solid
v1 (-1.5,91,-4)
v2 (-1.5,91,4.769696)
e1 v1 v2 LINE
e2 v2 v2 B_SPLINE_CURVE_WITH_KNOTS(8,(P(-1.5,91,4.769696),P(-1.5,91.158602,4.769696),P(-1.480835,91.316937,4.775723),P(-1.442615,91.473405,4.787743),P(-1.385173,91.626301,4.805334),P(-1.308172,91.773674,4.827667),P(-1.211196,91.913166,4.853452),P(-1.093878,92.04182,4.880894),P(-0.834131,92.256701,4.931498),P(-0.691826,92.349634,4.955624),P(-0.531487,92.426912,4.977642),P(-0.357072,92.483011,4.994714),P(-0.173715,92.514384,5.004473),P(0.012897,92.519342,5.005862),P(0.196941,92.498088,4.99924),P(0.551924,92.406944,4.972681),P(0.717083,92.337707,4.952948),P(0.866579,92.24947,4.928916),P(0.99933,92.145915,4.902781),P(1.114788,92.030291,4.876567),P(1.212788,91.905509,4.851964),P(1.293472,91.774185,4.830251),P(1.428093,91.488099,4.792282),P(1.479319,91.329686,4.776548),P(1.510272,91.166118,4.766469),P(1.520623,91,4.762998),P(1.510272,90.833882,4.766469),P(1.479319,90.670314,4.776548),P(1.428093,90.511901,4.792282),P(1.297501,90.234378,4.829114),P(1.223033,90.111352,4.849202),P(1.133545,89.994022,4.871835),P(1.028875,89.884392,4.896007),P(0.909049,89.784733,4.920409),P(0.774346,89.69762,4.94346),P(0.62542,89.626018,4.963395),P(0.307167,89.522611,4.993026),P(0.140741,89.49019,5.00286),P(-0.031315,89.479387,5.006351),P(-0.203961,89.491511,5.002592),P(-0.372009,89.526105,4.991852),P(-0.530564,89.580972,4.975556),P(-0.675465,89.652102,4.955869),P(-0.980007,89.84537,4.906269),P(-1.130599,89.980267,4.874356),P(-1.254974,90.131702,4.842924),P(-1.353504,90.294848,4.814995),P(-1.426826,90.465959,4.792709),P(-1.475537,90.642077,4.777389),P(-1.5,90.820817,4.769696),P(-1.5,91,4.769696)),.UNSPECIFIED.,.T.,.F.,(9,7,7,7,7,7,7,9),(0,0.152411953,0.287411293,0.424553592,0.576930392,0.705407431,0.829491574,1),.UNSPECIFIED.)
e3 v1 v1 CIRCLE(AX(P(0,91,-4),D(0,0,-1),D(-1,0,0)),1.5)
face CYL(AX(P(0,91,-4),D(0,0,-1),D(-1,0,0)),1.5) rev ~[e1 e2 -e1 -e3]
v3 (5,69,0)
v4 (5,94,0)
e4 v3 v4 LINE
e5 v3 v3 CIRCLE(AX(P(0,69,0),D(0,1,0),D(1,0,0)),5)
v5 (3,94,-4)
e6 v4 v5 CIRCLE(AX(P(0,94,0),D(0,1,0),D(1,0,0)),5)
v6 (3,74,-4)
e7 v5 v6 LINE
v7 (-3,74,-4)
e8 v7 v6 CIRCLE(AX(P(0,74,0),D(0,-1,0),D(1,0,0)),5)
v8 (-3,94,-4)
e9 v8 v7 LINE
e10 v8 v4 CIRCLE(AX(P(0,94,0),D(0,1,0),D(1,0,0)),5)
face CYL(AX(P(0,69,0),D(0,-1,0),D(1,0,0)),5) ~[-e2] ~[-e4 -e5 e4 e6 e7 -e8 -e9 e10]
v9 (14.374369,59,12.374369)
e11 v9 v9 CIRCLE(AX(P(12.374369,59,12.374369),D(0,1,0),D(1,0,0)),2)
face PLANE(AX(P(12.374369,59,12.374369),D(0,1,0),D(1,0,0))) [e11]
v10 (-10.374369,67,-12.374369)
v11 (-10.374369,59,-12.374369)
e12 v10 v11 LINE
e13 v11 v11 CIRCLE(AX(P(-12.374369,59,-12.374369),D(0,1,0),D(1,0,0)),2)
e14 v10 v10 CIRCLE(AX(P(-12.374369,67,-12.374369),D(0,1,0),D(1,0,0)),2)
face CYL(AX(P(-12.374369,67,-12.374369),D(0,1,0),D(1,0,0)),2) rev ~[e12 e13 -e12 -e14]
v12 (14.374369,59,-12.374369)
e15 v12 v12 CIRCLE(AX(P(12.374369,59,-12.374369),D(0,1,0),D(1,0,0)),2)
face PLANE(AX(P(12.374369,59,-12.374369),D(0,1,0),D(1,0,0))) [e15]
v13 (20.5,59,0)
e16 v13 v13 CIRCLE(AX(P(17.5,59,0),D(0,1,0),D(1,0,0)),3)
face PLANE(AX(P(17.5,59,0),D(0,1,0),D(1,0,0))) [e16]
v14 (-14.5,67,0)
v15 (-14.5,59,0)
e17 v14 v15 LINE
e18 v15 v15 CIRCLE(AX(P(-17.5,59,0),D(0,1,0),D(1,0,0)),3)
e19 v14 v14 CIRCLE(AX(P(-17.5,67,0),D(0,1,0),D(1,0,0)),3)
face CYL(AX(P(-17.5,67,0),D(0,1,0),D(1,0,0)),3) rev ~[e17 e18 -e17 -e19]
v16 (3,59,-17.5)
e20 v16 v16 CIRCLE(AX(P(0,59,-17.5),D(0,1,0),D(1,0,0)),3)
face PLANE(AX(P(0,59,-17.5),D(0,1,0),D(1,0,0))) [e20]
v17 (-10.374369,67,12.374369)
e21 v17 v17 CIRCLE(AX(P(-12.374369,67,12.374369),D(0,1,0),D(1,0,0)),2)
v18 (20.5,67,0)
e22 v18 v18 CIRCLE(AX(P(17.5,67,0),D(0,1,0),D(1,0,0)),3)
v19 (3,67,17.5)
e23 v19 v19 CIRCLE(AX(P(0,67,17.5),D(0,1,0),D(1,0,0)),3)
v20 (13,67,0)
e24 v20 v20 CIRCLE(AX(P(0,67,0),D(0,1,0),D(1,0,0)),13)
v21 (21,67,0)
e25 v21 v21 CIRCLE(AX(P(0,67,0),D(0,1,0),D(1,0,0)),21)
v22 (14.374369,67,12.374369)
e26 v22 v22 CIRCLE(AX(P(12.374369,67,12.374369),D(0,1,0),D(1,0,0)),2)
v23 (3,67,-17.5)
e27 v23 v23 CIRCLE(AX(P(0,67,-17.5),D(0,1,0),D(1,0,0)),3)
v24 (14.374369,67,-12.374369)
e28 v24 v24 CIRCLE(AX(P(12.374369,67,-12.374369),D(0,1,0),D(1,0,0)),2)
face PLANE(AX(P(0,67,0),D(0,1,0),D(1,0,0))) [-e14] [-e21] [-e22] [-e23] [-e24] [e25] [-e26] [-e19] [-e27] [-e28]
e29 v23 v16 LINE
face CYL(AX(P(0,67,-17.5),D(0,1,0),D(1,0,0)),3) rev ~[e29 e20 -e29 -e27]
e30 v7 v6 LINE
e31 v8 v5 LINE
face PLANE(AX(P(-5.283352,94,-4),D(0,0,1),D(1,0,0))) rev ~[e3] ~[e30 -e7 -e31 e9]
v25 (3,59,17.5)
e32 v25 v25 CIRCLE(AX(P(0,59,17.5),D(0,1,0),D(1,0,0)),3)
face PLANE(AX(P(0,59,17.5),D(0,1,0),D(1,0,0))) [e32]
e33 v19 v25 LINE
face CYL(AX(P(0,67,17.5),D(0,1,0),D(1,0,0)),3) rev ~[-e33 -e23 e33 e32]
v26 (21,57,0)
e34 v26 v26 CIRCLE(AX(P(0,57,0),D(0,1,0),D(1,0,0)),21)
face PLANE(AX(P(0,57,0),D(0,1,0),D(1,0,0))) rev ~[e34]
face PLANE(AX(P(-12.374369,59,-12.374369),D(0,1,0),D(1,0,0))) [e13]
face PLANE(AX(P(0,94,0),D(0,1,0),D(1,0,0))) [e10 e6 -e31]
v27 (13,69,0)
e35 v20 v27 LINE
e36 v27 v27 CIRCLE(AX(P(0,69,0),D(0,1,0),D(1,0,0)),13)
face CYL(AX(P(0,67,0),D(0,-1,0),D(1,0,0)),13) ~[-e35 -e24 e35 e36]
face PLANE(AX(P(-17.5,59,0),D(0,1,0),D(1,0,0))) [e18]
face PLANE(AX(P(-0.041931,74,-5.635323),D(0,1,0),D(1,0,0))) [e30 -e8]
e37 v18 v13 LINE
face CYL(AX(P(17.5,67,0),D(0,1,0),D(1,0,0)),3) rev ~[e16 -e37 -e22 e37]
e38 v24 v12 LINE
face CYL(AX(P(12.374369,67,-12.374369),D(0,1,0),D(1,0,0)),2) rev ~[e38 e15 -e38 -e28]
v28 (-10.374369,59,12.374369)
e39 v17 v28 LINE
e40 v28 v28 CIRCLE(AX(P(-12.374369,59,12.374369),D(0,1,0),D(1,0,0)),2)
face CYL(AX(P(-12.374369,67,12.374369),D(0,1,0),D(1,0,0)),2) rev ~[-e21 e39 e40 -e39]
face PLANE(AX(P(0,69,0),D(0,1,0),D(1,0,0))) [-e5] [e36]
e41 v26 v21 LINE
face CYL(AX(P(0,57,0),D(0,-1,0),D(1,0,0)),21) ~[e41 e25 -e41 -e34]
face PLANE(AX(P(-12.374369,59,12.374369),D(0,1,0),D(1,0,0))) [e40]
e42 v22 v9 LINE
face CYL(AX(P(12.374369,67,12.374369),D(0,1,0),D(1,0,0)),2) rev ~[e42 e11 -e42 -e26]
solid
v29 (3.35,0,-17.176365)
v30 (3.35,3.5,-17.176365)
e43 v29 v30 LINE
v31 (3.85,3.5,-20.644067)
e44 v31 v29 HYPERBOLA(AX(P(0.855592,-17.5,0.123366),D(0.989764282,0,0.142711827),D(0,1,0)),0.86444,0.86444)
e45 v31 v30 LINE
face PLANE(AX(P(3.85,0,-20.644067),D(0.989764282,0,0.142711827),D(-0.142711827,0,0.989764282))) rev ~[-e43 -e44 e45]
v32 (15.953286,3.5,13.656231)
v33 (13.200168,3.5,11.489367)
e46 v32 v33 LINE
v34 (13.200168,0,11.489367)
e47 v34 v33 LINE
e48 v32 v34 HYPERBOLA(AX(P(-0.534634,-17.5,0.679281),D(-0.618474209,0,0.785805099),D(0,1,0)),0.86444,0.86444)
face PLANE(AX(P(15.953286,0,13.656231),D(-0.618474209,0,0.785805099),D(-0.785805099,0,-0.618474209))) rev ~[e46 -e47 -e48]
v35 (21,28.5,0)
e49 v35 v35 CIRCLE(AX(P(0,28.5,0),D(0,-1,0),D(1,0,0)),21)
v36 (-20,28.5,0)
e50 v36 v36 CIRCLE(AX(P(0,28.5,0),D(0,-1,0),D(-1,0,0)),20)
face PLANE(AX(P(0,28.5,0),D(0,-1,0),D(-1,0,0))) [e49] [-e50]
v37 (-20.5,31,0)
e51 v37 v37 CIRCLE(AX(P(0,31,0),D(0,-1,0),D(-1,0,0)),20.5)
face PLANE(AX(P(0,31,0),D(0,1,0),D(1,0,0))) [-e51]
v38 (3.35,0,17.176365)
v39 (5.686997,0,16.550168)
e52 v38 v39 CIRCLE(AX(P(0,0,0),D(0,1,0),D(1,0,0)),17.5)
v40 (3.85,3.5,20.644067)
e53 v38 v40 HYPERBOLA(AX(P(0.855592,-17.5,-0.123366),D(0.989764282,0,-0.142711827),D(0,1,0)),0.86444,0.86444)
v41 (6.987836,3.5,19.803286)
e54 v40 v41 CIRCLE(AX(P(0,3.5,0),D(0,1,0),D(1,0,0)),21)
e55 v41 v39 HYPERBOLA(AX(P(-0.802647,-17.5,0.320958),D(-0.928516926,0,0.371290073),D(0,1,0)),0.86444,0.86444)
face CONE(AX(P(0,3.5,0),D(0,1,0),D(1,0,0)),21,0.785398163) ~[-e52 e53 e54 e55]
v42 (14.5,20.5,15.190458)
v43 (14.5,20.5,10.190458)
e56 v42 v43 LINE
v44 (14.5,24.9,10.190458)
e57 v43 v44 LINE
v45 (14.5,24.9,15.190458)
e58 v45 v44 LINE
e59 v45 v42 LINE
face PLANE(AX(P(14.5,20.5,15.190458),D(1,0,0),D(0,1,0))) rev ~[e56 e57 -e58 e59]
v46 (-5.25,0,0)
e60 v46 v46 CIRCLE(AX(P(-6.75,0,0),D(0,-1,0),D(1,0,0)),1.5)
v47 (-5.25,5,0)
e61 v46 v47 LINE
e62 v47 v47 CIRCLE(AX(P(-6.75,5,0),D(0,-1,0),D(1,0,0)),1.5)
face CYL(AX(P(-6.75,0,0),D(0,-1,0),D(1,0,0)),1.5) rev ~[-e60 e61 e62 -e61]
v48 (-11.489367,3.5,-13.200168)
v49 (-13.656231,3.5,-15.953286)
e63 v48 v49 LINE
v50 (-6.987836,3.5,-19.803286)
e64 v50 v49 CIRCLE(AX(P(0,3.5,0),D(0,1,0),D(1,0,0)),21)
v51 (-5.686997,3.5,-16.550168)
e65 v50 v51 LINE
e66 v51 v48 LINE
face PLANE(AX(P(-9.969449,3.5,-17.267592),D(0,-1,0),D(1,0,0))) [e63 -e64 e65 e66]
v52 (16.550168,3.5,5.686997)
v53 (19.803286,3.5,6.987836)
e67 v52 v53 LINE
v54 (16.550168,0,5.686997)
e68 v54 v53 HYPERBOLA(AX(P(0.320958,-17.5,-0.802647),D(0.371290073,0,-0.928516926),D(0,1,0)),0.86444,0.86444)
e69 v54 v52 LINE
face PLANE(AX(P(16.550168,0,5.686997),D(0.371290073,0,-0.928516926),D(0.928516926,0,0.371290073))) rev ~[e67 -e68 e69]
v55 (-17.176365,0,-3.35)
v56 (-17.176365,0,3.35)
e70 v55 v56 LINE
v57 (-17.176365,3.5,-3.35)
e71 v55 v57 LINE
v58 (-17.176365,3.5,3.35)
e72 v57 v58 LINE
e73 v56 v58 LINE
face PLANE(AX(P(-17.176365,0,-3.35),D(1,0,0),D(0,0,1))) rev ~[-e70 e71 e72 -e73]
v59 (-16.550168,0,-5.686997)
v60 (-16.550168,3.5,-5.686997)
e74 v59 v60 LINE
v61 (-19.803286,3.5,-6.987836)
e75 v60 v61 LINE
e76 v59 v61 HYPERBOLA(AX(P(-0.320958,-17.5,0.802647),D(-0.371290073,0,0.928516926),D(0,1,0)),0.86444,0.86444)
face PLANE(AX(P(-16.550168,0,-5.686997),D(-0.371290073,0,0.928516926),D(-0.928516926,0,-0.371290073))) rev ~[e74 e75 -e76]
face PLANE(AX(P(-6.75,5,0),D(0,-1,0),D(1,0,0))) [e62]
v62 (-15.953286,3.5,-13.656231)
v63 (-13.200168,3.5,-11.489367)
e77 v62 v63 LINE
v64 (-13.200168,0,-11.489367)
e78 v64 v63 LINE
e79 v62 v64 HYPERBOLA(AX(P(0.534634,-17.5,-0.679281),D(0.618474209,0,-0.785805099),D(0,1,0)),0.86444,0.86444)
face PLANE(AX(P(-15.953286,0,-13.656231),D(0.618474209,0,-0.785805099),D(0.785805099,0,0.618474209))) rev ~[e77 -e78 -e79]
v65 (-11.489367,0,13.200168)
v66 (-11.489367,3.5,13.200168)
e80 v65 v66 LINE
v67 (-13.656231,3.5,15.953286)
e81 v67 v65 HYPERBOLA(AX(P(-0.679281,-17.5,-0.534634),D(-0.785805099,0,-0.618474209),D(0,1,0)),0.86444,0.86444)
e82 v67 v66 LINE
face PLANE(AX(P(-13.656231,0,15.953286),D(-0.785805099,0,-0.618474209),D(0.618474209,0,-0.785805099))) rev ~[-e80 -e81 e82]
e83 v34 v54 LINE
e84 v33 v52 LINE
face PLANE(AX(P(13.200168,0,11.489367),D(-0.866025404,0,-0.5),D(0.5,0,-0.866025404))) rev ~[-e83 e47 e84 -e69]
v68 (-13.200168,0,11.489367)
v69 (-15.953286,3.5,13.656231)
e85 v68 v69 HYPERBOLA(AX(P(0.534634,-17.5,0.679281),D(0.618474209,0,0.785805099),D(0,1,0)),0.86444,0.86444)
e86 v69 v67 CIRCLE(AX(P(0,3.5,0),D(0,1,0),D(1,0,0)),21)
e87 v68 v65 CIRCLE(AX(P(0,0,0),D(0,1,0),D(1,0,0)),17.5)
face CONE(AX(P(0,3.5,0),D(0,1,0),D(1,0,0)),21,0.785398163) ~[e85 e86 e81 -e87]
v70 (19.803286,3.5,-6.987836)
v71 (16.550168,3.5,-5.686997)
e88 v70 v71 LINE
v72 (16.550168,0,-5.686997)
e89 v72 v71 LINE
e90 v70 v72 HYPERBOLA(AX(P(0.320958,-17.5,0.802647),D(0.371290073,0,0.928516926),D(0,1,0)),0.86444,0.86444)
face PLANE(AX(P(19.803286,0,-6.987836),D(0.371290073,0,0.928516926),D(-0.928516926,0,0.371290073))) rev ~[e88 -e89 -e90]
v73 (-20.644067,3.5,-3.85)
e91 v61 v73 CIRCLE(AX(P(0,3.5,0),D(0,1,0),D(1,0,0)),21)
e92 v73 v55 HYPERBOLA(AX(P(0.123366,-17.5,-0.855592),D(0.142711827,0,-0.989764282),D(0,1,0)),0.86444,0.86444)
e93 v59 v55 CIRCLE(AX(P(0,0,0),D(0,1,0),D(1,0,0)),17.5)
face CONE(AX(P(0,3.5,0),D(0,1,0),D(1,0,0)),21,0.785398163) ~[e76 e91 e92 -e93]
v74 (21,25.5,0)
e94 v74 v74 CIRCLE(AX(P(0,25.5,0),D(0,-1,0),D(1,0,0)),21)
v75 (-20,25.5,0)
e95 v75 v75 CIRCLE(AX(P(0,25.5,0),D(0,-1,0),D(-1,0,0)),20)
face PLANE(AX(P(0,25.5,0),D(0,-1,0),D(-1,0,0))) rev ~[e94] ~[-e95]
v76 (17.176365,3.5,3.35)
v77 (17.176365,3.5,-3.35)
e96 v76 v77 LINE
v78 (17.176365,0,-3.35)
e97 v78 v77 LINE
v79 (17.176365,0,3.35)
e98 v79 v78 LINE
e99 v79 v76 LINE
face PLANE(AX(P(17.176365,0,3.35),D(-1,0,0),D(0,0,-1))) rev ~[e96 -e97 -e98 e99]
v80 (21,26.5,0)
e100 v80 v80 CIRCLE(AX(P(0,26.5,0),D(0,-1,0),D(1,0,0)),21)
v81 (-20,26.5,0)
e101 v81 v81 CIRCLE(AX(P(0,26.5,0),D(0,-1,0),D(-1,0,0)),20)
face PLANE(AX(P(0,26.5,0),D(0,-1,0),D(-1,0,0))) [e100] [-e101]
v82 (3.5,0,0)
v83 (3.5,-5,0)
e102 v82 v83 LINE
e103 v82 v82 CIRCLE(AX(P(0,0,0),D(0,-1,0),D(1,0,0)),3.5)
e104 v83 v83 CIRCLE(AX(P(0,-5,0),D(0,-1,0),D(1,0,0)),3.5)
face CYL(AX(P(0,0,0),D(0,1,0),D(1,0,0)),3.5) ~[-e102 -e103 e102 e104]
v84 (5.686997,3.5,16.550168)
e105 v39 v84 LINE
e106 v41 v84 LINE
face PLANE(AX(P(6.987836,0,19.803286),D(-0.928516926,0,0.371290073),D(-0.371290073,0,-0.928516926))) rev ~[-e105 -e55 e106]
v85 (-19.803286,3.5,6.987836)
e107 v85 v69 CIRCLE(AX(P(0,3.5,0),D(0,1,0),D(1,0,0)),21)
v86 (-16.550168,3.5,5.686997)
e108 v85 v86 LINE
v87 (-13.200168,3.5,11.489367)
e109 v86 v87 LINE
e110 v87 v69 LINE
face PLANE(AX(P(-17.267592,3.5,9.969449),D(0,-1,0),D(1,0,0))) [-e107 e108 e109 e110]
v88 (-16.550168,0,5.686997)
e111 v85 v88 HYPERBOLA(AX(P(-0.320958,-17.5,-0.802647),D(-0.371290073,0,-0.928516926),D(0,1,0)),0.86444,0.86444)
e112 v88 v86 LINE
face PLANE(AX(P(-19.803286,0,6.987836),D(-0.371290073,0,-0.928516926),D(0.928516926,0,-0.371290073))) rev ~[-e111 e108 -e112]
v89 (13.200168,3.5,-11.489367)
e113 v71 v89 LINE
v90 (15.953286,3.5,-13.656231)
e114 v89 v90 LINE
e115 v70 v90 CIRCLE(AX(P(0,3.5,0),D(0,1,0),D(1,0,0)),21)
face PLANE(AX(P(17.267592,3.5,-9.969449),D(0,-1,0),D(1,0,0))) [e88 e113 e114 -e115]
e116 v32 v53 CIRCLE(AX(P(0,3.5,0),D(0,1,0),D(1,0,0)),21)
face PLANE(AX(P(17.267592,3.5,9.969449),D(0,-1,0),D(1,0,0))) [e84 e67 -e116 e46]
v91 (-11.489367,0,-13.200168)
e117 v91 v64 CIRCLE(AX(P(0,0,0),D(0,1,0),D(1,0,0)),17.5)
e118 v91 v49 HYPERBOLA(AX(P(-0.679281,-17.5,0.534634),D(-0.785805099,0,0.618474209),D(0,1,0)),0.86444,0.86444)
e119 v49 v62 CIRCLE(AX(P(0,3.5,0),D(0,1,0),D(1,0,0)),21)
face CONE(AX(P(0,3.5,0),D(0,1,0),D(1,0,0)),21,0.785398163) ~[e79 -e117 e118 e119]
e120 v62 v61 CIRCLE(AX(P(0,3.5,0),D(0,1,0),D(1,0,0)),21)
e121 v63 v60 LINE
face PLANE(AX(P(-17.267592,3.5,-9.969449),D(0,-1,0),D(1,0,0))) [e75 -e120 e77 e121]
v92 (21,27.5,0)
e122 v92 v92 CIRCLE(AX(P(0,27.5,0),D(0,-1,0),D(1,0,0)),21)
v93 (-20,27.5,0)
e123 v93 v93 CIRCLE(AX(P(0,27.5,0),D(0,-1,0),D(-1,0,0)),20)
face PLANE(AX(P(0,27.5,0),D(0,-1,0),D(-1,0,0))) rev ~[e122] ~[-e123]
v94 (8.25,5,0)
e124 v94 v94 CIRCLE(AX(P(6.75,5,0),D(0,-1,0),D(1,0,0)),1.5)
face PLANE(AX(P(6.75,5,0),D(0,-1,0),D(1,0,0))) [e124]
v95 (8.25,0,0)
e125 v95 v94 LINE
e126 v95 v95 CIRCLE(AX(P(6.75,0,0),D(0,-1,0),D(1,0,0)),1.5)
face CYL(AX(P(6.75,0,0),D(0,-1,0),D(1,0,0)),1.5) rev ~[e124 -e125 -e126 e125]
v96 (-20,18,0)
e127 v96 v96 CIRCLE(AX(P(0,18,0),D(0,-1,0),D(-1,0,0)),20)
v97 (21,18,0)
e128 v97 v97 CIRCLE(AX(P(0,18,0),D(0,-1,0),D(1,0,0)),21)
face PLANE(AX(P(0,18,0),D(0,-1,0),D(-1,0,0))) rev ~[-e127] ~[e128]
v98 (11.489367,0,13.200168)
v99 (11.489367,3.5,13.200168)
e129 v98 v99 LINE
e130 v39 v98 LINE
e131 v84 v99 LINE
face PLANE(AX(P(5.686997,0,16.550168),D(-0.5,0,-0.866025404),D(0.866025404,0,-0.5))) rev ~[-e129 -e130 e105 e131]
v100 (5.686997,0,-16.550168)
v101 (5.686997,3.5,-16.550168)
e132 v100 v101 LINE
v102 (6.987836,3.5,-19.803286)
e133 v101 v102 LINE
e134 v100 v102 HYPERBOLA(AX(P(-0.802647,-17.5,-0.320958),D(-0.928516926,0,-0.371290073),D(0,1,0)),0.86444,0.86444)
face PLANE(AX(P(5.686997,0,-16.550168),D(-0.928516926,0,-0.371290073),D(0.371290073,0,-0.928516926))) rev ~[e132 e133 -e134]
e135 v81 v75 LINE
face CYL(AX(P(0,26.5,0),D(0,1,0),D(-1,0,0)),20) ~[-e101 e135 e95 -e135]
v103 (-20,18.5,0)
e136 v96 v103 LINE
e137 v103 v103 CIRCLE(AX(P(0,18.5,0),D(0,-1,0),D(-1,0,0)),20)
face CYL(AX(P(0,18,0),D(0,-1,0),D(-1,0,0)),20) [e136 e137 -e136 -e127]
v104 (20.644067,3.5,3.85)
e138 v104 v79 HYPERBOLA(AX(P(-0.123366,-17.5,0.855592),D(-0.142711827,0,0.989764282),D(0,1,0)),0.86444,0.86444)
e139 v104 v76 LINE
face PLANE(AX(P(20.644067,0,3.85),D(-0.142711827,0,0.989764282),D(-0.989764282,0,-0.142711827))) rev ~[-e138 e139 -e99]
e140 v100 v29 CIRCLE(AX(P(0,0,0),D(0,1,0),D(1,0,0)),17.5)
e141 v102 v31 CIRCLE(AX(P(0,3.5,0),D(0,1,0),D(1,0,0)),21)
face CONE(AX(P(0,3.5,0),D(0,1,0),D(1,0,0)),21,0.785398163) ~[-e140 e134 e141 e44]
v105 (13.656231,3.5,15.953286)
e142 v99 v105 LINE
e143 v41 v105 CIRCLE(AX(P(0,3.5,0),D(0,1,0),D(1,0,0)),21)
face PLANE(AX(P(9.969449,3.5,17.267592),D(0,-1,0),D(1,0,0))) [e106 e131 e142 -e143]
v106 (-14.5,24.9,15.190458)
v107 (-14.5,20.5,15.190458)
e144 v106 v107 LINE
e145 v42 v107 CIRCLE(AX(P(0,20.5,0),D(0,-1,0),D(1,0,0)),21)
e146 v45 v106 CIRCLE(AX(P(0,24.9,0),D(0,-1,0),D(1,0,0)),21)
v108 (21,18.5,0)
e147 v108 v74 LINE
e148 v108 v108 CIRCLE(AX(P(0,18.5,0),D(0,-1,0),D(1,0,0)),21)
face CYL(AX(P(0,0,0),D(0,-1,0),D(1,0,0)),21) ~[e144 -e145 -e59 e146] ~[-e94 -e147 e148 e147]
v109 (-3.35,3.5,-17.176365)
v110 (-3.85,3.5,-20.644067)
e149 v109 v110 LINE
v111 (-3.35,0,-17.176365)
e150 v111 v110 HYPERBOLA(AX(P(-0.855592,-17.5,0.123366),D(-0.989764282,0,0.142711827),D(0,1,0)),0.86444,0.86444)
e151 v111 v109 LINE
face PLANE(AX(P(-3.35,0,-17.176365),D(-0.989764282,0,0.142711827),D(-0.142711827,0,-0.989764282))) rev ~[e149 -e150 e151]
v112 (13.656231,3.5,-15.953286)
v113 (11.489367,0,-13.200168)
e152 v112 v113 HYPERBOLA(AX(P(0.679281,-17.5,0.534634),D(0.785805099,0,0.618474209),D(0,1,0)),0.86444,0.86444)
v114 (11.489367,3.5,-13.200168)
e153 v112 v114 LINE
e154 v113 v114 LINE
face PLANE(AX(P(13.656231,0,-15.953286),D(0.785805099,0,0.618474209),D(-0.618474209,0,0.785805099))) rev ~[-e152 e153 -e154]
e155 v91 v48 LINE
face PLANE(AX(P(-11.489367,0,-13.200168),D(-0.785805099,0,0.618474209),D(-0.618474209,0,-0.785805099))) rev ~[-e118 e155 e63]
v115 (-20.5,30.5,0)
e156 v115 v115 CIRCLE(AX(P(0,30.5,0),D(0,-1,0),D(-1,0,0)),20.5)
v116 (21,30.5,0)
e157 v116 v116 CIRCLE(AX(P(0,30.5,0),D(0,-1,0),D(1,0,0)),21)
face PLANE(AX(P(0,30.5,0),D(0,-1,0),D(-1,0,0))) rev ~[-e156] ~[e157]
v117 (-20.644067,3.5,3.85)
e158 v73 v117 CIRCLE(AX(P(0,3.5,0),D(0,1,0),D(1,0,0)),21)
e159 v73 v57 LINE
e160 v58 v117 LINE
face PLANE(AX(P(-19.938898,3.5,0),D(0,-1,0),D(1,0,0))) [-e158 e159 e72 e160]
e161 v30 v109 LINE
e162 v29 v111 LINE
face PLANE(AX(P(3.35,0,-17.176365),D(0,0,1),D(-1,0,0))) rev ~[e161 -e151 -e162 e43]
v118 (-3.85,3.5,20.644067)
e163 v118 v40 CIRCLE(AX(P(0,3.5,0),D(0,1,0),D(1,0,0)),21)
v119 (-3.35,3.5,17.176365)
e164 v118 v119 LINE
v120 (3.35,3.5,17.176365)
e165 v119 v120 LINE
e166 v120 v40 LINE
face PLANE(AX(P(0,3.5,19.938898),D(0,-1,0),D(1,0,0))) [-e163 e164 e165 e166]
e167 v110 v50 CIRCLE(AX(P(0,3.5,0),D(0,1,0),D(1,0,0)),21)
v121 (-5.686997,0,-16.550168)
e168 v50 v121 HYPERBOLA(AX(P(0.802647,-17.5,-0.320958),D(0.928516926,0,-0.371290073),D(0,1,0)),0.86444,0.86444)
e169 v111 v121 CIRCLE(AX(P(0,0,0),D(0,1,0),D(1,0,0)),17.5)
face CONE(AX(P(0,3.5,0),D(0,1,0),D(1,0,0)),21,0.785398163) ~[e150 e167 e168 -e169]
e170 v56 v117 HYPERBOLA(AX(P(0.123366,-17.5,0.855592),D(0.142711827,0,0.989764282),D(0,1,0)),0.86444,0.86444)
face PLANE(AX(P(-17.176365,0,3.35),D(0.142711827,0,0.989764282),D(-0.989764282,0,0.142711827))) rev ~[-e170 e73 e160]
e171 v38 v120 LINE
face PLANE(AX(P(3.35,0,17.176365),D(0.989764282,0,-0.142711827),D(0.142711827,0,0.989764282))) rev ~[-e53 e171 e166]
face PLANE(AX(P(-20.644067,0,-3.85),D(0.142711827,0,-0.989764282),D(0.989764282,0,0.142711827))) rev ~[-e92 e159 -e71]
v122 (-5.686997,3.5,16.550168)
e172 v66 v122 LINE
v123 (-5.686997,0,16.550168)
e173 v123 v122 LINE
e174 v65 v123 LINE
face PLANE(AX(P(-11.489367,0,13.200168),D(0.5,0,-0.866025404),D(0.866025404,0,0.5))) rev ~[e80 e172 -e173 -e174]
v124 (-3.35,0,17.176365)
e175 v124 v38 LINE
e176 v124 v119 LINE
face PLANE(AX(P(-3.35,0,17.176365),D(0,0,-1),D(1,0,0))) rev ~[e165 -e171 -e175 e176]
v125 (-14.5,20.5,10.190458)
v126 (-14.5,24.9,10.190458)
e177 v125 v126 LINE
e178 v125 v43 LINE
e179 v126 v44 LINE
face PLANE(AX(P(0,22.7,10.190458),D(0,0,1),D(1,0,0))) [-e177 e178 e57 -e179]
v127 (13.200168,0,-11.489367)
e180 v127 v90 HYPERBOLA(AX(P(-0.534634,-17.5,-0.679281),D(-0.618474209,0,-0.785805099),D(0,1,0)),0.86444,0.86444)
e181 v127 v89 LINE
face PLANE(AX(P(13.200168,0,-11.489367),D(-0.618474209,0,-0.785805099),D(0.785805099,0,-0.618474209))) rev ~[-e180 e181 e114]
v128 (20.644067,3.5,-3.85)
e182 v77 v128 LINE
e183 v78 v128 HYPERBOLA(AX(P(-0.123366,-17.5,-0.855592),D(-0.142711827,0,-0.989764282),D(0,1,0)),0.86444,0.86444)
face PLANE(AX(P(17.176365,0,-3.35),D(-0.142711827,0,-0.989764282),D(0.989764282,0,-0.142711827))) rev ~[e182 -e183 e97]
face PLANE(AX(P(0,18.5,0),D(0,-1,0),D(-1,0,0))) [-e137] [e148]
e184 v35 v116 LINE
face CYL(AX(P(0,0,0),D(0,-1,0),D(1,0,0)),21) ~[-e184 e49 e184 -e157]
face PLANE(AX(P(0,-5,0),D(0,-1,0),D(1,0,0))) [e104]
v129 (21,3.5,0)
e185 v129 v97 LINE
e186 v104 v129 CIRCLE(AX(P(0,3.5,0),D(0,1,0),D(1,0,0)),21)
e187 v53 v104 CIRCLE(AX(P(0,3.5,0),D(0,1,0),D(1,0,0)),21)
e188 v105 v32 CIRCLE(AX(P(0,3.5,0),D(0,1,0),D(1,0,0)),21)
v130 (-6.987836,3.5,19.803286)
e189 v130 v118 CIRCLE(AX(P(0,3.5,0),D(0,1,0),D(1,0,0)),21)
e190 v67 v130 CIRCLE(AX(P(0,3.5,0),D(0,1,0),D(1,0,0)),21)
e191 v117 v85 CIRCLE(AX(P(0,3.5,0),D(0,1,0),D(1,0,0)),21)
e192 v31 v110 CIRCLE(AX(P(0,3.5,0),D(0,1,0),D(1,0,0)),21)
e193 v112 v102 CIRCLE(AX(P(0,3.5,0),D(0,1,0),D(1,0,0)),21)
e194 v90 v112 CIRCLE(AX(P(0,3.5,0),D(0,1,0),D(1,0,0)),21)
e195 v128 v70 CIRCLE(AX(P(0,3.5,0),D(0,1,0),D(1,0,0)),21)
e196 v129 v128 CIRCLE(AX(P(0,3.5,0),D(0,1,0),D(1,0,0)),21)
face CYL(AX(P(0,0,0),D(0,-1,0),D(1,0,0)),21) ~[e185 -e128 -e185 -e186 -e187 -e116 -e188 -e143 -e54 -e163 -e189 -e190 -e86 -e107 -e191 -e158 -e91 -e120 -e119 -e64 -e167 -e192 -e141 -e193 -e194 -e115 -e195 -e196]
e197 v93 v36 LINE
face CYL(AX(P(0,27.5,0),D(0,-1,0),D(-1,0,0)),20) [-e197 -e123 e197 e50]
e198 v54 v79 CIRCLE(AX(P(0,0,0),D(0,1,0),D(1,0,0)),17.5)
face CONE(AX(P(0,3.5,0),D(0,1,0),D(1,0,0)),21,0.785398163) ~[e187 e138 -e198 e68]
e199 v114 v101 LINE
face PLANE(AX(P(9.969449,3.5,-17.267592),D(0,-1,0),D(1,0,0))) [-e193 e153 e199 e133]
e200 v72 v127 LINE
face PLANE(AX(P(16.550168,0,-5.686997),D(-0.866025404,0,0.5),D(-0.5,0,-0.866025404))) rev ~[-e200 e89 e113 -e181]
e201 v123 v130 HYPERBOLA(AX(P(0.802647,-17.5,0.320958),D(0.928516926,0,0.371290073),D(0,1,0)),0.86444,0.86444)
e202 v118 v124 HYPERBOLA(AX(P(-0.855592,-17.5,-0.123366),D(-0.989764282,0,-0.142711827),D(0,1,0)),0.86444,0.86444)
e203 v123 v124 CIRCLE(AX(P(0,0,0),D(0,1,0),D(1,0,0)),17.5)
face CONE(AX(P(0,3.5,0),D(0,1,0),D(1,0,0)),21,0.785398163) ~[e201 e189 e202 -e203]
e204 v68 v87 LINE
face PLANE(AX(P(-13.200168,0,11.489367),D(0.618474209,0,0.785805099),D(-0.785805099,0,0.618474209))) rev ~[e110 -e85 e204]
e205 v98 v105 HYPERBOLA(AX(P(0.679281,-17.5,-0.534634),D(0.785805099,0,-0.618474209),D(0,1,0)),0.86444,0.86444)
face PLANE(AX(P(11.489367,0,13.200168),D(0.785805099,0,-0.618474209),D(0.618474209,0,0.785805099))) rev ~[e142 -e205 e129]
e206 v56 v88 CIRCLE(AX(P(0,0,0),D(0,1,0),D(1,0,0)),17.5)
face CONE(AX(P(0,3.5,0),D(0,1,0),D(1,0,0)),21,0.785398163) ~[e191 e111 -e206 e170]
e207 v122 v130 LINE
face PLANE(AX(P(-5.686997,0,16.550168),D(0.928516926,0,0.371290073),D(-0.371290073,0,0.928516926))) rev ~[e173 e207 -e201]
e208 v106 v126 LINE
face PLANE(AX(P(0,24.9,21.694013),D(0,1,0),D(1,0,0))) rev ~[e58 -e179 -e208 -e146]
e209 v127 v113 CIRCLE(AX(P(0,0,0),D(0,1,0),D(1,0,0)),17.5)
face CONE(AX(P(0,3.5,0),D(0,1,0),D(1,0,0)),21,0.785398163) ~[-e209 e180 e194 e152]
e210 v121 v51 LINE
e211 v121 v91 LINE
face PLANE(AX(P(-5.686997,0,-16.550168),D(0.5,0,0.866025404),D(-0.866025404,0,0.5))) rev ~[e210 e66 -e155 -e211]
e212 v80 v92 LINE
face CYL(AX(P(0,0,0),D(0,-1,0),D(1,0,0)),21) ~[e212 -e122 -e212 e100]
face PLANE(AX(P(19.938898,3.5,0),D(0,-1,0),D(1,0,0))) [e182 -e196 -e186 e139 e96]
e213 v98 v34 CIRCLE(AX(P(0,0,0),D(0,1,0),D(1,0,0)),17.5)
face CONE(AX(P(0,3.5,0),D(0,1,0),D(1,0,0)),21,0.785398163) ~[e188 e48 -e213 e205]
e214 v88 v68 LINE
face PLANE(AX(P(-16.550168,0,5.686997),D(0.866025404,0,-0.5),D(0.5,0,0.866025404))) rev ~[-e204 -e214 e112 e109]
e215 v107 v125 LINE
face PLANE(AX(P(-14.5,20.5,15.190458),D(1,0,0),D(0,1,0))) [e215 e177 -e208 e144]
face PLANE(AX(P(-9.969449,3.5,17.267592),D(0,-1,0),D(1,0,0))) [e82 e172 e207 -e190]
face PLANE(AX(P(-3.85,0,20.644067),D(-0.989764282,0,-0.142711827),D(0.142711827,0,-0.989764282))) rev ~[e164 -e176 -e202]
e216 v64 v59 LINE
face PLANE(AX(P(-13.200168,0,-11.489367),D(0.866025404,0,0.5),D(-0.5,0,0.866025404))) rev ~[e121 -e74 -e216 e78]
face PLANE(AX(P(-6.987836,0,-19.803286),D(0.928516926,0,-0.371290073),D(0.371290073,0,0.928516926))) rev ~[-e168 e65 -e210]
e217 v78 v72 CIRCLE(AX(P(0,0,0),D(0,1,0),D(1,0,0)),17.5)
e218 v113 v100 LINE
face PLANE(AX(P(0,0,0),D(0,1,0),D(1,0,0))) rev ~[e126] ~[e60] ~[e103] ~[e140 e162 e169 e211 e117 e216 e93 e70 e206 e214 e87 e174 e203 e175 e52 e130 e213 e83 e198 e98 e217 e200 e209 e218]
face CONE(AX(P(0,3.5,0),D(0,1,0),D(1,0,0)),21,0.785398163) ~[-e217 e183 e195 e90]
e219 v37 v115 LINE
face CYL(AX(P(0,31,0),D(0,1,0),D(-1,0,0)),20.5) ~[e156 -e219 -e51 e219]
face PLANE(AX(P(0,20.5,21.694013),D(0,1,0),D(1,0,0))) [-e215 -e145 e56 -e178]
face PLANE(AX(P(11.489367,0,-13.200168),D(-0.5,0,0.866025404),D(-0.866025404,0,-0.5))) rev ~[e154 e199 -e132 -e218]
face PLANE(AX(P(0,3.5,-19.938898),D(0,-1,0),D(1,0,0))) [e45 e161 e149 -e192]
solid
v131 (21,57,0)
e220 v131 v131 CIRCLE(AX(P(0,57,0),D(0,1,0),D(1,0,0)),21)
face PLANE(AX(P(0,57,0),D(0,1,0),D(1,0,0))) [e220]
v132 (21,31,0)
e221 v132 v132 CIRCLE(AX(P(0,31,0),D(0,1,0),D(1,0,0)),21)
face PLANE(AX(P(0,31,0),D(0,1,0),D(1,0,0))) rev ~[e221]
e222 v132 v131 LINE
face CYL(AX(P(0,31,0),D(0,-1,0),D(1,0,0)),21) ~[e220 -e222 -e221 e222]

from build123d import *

# Parameters (mm, degrees)
SKETCH_1_R             = 21
EXTRUDE_1_DEPTH        = 31
CHAMFER_1_SIZE         = 3.5
CUT_EXTRUDE_1_DEPTH    = 3.5
SKETCH_3_R             = 21
EXTRUDE_2_DEPTH        = 26
SKETCH_4_R             = 21
EXTRUDE_3_DEPTH        = 10
SKETCH_5_R             = 13
EXTRUDE_4_DEPTH        = 2
SKETCH_6_R             = 5
EXTRUDE_5_DEPTH        = 25
SKETCH_7_W             = 10.482842212
SKETCH_7_H             = 3.27064677
CUT_EXTRUDE_D_DEPTH    = 20
SKETCH_8_R             = 21
SKETCH_8_R_2           = 20.5
CUT_EXTRUDE_3_DEPTH    = 0.5
SKETCH_9_R             = 21
SKETCH_9_R_2           = 20
CUT_EXTRUDE_4_DEPTH    = 1
SKETCH_10_R            = 21
SKETCH_10_R_2          = 20
CUT_EXTRUDE_5_DEPTH    = 1
SKETCH_11_R            = 21
SKETCH_11_R_2          = 20
CUT_EXTRUDE_6_DEPTH    = 0.5
SKETCH_12_W            = 29
SKETCH_12_H            = 13.007110616
CUT_EXTRUDE_7_DEPTH    = 4.4
SKETCH_13_W            = 29
SKETCH_13_H            = 4.4
CUT_EXTRUDE_8_DEPTH    = 5
SKETCH_14_R            = 3
SKETCH_14_R_2          = 2
CUT_EXTRUDE_2347_DEPTH = 8
SKETCH_15_R            = 3.5
EXTRUDE_6_DEPTH        = 5
SKETCH_16_R            = 1.5
CUT_EXTRUDE_10_DEPTH   = 5
SKETCH_17_R            = 1.5
CUT_EXTRUDE_11_DEPTH   = 10


with BuildPart() as part:
    # 草图1 → 凸台-拉伸1 (new body)
    with BuildSketch(Plane(origin=(0, 0, 0), x_dir=(1, 0, 0), z_dir=(0, 1, 0))):
        Circle(SKETCH_1_R)
    extrude(amount=EXTRUDE_1_DEPTH)

    # 倒角1
    chamfer_1_edges = [part.edges().sort_by_distance(p)[0] for p in [
        (-21, 0, 0),
    ]]
    chamfer(chamfer_1_edges, length=CHAMFER_1_SIZE)

    # 草图2 → 切除-拉伸1 (cut)
    with BuildSketch(Plane.XZ):
        Polygon((3.35, -17.176364575), (-3.35, -17.176364575), (-3.85, -20.644066944), (-3.85, -22.494899201), (3.85, -22.494899201), (3.85, -20.644066944), align=None)
        Polygon((-6.987835668, -19.803286411), (-5.686997185, -16.550168066), (-11.48936739, -13.200168066), (-13.656231277, -15.953286411), (-14.581647405, -17.556154163), (-7.913251796, -21.406154163), align=None)
        Polygon((-15.953286411, -13.656231277), (-13.200168066, -11.48936739), (-16.550168066, -5.686997185), (-19.803286411, -6.987835668), (-21.406154163, -7.913251796), (-17.556154163, -14.581647405), align=None)
        Polygon((-20.644066944, -3.85), (-17.176364575, -3.35), (-17.176364575, 3.35), (-20.644066944, 3.85), (-22.494899201, 3.85), (-22.494899201, -3.85), align=None)
        Polygon((-19.803286411, 6.987835668), (-16.550168066, 5.686997185), (-13.200168066, 11.48936739), (-15.953286411, 13.656231277), (-17.556154163, 14.581647405), (-21.406154163, 7.913251796), align=None)
        Polygon((-13.656231277, 15.953286411), (-11.48936739, 13.200168066), (-5.686997185, 16.550168066), (-6.987835668, 19.803286411), (-7.913251796, 21.406154163), (-14.581647405, 17.556154163), align=None)
        Polygon((-3.85, 20.644066944), (-3.35, 17.176364575), (3.35, 17.176364575), (3.85, 20.644066944), (3.85, 22.494899201), (-3.85, 22.494899201), align=None)
        Polygon((6.987835668, 19.803286411), (5.686997185, 16.550168066), (11.48936739, 13.200168066), (13.656231277, 15.953286411), (14.581647405, 17.556154163), (7.913251796, 21.406154163), align=None)
        Polygon((15.953286411, 13.656231277), (13.200168066, 11.48936739), (16.550168066, 5.686997185), (19.803286411, 6.987835668), (21.406154163, 7.913251796), (17.556154163, 14.581647405), align=None)
        Polygon((20.644066944, 3.85), (17.176364575, 3.35), (17.176364575, -3.35), (20.644066944, -3.85), (22.494899201, -3.85), (22.494899201, 3.85), align=None)
        Polygon((19.803286411, -6.987835668), (16.550168066, -5.686997185), (13.200168066, -11.48936739), (15.953286411, -13.656231277), (17.556154163, -14.581647405), (21.406154163, -7.913251796), align=None)
        Polygon((13.656231277, -15.953286411), (11.48936739, -13.200168066), (5.686997185, -16.550168066), (6.987835668, -19.803286411), (7.913251796, -21.406154163), (14.581647405, -17.556154163), align=None)
    extrude(amount=-CUT_EXTRUDE_1_DEPTH, mode=Mode.SUBTRACT)

    # 草图8 → 切除-拉伸3 (cut)
    with BuildSketch(Plane(origin=(0, 31, 0), x_dir=(-1, 0, 0), z_dir=(0, -1, 0))):
        Circle(SKETCH_8_R)
        Circle(SKETCH_8_R_2, mode=Mode.SUBTRACT)
    extrude(amount=CUT_EXTRUDE_3_DEPTH, mode=Mode.SUBTRACT)

    # 草图9 → 切除-拉伸4 (cut)
    with BuildSketch(Plane(origin=(0, 26.5, 0), x_dir=(-1, 0, 0), z_dir=(0, -1, 0))):
        Circle(SKETCH_9_R)
        Circle(SKETCH_9_R_2, mode=Mode.SUBTRACT)
    extrude(amount=CUT_EXTRUDE_4_DEPTH, mode=Mode.SUBTRACT)

    # 草图10 → 切除-拉伸5 (cut)
    with BuildSketch(Plane(origin=(0, 27.5, 0), x_dir=(-1, 0, 0), z_dir=(0, -1, 0))):
        Circle(SKETCH_10_R)
        Circle(SKETCH_10_R_2, mode=Mode.SUBTRACT)
    extrude(amount=-CUT_EXTRUDE_5_DEPTH, mode=Mode.SUBTRACT)

    # 草图11 → 切除-拉伸6 (cut)
    with BuildSketch(Plane(origin=(0, 18, 0), x_dir=(-1, 0, 0), z_dir=(0, -1, 0))):
        Circle(SKETCH_11_R)
        Circle(SKETCH_11_R_2, mode=Mode.SUBTRACT)
    extrude(amount=-CUT_EXTRUDE_6_DEPTH, mode=Mode.SUBTRACT)

    # 草图12 → 切除-拉伸7 (cut)
    with BuildSketch(Plane(origin=(0, 24.9, 0), x_dir=(1, 0, 0), z_dir=(0, 1, 0))):
        with Locations((0, -21.694012839)):
            Rectangle(SKETCH_12_W, SKETCH_12_H)
    extrude(amount=-CUT_EXTRUDE_7_DEPTH, mode=Mode.SUBTRACT)

    # 草图13 → 切除-拉伸8 (cut)
    with BuildSketch(Plane.XY.offset(15.190457531)):
        with Locations((0, 22.7)):
            Rectangle(SKETCH_13_W, SKETCH_13_H)
    extrude(amount=-CUT_EXTRUDE_8_DEPTH, mode=Mode.SUBTRACT)

    # 草图15 → 凸台-拉伸6 (add)
    with BuildSketch(Plane.XZ):
        Circle(SKETCH_15_R)
    extrude(amount=EXTRUDE_6_DEPTH)

    # 草图16 → 切除-拉伸10 (cut)
    with BuildSketch(Plane.XZ):
        with Locations((-6.75, 0)):
            Circle(SKETCH_16_R)
        with Locations((6.75, 0)):
            Circle(SKETCH_16_R)
    extrude(amount=-CUT_EXTRUDE_10_DEPTH, mode=Mode.SUBTRACT)


with BuildPart() as body_2:
    # 草图3 → 凸台-拉伸2 (new body)
    with BuildSketch(Plane(origin=(0, 31, 0), x_dir=(1, 0, 0), z_dir=(0, 1, 0))):
        Circle(SKETCH_3_R)
    extrude(amount=EXTRUDE_2_DEPTH)


with BuildPart() as body_3:
    # 草图4 → 凸台-拉伸3 (new body)
    with BuildSketch(Plane(origin=(0, 57, 0), x_dir=(1, 0, 0), z_dir=(0, 1, 0))):
        Circle(SKETCH_4_R)
    extrude(amount=EXTRUDE_3_DEPTH)

    # 草图5 → 凸台-拉伸4 (add)
    with BuildSketch(Plane(origin=(0, 67, 0), x_dir=(1, 0, 0), z_dir=(0, 1, 0))):
        Circle(SKETCH_5_R)
    extrude(amount=EXTRUDE_4_DEPTH)

    # 草图6 → 凸台-拉伸5 (add)
    with BuildSketch(Plane(origin=(0, 69, 0), x_dir=(1, 0, 0), z_dir=(0, 1, 0))):
        Circle(SKETCH_6_R)
    extrude(amount=EXTRUDE_5_DEPTH)

    # 草图7 → D形面 (cut)
    with BuildSketch(Plane(origin=(0, 94, 0), x_dir=(1, 0, 0), z_dir=(0, 1, 0))):
        with Locations((-0.041931369, 5.635323385)):
            Rectangle(SKETCH_7_W, SKETCH_7_H)
    extrude(amount=-CUT_EXTRUDE_D_DEPTH, mode=Mode.SUBTRACT)

    # 草图14 → Cut-Extrude 2347 (cut)
    with BuildSketch(Plane(origin=(0, 67, 0), x_dir=(1, 0, 0), z_dir=(0, 1, 0))):
        with Locations((0, 17.5)):
            Circle(SKETCH_14_R)
        with Locations((-17.5, 0)):
            Circle(SKETCH_14_R)
        with Locations((0, -17.5)):
            Circle(SKETCH_14_R)
        with Locations((17.5, 0)):
            Circle(SKETCH_14_R)
        with Locations((12.374368671, 12.374368671)):
            Circle(SKETCH_14_R_2)
        with Locations((12.374368671, -12.374368671)):
            Circle(SKETCH_14_R_2)
        with Locations((-12.374368671, -12.374368671)):
            Circle(SKETCH_14_R_2)
        with Locations((-12.374368671, 12.374368671)):
            Circle(SKETCH_14_R_2)
    extrude(amount=-CUT_EXTRUDE_2347_DEPTH, mode=Mode.SUBTRACT)

    # 草图17 → 切除-拉伸11 (cut)
    with BuildSketch(Plane(origin=(0, 0, -4), x_dir=(-1, 0, 0), z_dir=(0, 0, -1))):
        with Locations((0, 91)):
            Circle(SKETCH_17_R)
    extrude(amount=-CUT_EXTRUDE_11_DEPTH, mode=Mode.SUBTRACT)


solid = Compound([part.part, body_2.part, body_3.part])
